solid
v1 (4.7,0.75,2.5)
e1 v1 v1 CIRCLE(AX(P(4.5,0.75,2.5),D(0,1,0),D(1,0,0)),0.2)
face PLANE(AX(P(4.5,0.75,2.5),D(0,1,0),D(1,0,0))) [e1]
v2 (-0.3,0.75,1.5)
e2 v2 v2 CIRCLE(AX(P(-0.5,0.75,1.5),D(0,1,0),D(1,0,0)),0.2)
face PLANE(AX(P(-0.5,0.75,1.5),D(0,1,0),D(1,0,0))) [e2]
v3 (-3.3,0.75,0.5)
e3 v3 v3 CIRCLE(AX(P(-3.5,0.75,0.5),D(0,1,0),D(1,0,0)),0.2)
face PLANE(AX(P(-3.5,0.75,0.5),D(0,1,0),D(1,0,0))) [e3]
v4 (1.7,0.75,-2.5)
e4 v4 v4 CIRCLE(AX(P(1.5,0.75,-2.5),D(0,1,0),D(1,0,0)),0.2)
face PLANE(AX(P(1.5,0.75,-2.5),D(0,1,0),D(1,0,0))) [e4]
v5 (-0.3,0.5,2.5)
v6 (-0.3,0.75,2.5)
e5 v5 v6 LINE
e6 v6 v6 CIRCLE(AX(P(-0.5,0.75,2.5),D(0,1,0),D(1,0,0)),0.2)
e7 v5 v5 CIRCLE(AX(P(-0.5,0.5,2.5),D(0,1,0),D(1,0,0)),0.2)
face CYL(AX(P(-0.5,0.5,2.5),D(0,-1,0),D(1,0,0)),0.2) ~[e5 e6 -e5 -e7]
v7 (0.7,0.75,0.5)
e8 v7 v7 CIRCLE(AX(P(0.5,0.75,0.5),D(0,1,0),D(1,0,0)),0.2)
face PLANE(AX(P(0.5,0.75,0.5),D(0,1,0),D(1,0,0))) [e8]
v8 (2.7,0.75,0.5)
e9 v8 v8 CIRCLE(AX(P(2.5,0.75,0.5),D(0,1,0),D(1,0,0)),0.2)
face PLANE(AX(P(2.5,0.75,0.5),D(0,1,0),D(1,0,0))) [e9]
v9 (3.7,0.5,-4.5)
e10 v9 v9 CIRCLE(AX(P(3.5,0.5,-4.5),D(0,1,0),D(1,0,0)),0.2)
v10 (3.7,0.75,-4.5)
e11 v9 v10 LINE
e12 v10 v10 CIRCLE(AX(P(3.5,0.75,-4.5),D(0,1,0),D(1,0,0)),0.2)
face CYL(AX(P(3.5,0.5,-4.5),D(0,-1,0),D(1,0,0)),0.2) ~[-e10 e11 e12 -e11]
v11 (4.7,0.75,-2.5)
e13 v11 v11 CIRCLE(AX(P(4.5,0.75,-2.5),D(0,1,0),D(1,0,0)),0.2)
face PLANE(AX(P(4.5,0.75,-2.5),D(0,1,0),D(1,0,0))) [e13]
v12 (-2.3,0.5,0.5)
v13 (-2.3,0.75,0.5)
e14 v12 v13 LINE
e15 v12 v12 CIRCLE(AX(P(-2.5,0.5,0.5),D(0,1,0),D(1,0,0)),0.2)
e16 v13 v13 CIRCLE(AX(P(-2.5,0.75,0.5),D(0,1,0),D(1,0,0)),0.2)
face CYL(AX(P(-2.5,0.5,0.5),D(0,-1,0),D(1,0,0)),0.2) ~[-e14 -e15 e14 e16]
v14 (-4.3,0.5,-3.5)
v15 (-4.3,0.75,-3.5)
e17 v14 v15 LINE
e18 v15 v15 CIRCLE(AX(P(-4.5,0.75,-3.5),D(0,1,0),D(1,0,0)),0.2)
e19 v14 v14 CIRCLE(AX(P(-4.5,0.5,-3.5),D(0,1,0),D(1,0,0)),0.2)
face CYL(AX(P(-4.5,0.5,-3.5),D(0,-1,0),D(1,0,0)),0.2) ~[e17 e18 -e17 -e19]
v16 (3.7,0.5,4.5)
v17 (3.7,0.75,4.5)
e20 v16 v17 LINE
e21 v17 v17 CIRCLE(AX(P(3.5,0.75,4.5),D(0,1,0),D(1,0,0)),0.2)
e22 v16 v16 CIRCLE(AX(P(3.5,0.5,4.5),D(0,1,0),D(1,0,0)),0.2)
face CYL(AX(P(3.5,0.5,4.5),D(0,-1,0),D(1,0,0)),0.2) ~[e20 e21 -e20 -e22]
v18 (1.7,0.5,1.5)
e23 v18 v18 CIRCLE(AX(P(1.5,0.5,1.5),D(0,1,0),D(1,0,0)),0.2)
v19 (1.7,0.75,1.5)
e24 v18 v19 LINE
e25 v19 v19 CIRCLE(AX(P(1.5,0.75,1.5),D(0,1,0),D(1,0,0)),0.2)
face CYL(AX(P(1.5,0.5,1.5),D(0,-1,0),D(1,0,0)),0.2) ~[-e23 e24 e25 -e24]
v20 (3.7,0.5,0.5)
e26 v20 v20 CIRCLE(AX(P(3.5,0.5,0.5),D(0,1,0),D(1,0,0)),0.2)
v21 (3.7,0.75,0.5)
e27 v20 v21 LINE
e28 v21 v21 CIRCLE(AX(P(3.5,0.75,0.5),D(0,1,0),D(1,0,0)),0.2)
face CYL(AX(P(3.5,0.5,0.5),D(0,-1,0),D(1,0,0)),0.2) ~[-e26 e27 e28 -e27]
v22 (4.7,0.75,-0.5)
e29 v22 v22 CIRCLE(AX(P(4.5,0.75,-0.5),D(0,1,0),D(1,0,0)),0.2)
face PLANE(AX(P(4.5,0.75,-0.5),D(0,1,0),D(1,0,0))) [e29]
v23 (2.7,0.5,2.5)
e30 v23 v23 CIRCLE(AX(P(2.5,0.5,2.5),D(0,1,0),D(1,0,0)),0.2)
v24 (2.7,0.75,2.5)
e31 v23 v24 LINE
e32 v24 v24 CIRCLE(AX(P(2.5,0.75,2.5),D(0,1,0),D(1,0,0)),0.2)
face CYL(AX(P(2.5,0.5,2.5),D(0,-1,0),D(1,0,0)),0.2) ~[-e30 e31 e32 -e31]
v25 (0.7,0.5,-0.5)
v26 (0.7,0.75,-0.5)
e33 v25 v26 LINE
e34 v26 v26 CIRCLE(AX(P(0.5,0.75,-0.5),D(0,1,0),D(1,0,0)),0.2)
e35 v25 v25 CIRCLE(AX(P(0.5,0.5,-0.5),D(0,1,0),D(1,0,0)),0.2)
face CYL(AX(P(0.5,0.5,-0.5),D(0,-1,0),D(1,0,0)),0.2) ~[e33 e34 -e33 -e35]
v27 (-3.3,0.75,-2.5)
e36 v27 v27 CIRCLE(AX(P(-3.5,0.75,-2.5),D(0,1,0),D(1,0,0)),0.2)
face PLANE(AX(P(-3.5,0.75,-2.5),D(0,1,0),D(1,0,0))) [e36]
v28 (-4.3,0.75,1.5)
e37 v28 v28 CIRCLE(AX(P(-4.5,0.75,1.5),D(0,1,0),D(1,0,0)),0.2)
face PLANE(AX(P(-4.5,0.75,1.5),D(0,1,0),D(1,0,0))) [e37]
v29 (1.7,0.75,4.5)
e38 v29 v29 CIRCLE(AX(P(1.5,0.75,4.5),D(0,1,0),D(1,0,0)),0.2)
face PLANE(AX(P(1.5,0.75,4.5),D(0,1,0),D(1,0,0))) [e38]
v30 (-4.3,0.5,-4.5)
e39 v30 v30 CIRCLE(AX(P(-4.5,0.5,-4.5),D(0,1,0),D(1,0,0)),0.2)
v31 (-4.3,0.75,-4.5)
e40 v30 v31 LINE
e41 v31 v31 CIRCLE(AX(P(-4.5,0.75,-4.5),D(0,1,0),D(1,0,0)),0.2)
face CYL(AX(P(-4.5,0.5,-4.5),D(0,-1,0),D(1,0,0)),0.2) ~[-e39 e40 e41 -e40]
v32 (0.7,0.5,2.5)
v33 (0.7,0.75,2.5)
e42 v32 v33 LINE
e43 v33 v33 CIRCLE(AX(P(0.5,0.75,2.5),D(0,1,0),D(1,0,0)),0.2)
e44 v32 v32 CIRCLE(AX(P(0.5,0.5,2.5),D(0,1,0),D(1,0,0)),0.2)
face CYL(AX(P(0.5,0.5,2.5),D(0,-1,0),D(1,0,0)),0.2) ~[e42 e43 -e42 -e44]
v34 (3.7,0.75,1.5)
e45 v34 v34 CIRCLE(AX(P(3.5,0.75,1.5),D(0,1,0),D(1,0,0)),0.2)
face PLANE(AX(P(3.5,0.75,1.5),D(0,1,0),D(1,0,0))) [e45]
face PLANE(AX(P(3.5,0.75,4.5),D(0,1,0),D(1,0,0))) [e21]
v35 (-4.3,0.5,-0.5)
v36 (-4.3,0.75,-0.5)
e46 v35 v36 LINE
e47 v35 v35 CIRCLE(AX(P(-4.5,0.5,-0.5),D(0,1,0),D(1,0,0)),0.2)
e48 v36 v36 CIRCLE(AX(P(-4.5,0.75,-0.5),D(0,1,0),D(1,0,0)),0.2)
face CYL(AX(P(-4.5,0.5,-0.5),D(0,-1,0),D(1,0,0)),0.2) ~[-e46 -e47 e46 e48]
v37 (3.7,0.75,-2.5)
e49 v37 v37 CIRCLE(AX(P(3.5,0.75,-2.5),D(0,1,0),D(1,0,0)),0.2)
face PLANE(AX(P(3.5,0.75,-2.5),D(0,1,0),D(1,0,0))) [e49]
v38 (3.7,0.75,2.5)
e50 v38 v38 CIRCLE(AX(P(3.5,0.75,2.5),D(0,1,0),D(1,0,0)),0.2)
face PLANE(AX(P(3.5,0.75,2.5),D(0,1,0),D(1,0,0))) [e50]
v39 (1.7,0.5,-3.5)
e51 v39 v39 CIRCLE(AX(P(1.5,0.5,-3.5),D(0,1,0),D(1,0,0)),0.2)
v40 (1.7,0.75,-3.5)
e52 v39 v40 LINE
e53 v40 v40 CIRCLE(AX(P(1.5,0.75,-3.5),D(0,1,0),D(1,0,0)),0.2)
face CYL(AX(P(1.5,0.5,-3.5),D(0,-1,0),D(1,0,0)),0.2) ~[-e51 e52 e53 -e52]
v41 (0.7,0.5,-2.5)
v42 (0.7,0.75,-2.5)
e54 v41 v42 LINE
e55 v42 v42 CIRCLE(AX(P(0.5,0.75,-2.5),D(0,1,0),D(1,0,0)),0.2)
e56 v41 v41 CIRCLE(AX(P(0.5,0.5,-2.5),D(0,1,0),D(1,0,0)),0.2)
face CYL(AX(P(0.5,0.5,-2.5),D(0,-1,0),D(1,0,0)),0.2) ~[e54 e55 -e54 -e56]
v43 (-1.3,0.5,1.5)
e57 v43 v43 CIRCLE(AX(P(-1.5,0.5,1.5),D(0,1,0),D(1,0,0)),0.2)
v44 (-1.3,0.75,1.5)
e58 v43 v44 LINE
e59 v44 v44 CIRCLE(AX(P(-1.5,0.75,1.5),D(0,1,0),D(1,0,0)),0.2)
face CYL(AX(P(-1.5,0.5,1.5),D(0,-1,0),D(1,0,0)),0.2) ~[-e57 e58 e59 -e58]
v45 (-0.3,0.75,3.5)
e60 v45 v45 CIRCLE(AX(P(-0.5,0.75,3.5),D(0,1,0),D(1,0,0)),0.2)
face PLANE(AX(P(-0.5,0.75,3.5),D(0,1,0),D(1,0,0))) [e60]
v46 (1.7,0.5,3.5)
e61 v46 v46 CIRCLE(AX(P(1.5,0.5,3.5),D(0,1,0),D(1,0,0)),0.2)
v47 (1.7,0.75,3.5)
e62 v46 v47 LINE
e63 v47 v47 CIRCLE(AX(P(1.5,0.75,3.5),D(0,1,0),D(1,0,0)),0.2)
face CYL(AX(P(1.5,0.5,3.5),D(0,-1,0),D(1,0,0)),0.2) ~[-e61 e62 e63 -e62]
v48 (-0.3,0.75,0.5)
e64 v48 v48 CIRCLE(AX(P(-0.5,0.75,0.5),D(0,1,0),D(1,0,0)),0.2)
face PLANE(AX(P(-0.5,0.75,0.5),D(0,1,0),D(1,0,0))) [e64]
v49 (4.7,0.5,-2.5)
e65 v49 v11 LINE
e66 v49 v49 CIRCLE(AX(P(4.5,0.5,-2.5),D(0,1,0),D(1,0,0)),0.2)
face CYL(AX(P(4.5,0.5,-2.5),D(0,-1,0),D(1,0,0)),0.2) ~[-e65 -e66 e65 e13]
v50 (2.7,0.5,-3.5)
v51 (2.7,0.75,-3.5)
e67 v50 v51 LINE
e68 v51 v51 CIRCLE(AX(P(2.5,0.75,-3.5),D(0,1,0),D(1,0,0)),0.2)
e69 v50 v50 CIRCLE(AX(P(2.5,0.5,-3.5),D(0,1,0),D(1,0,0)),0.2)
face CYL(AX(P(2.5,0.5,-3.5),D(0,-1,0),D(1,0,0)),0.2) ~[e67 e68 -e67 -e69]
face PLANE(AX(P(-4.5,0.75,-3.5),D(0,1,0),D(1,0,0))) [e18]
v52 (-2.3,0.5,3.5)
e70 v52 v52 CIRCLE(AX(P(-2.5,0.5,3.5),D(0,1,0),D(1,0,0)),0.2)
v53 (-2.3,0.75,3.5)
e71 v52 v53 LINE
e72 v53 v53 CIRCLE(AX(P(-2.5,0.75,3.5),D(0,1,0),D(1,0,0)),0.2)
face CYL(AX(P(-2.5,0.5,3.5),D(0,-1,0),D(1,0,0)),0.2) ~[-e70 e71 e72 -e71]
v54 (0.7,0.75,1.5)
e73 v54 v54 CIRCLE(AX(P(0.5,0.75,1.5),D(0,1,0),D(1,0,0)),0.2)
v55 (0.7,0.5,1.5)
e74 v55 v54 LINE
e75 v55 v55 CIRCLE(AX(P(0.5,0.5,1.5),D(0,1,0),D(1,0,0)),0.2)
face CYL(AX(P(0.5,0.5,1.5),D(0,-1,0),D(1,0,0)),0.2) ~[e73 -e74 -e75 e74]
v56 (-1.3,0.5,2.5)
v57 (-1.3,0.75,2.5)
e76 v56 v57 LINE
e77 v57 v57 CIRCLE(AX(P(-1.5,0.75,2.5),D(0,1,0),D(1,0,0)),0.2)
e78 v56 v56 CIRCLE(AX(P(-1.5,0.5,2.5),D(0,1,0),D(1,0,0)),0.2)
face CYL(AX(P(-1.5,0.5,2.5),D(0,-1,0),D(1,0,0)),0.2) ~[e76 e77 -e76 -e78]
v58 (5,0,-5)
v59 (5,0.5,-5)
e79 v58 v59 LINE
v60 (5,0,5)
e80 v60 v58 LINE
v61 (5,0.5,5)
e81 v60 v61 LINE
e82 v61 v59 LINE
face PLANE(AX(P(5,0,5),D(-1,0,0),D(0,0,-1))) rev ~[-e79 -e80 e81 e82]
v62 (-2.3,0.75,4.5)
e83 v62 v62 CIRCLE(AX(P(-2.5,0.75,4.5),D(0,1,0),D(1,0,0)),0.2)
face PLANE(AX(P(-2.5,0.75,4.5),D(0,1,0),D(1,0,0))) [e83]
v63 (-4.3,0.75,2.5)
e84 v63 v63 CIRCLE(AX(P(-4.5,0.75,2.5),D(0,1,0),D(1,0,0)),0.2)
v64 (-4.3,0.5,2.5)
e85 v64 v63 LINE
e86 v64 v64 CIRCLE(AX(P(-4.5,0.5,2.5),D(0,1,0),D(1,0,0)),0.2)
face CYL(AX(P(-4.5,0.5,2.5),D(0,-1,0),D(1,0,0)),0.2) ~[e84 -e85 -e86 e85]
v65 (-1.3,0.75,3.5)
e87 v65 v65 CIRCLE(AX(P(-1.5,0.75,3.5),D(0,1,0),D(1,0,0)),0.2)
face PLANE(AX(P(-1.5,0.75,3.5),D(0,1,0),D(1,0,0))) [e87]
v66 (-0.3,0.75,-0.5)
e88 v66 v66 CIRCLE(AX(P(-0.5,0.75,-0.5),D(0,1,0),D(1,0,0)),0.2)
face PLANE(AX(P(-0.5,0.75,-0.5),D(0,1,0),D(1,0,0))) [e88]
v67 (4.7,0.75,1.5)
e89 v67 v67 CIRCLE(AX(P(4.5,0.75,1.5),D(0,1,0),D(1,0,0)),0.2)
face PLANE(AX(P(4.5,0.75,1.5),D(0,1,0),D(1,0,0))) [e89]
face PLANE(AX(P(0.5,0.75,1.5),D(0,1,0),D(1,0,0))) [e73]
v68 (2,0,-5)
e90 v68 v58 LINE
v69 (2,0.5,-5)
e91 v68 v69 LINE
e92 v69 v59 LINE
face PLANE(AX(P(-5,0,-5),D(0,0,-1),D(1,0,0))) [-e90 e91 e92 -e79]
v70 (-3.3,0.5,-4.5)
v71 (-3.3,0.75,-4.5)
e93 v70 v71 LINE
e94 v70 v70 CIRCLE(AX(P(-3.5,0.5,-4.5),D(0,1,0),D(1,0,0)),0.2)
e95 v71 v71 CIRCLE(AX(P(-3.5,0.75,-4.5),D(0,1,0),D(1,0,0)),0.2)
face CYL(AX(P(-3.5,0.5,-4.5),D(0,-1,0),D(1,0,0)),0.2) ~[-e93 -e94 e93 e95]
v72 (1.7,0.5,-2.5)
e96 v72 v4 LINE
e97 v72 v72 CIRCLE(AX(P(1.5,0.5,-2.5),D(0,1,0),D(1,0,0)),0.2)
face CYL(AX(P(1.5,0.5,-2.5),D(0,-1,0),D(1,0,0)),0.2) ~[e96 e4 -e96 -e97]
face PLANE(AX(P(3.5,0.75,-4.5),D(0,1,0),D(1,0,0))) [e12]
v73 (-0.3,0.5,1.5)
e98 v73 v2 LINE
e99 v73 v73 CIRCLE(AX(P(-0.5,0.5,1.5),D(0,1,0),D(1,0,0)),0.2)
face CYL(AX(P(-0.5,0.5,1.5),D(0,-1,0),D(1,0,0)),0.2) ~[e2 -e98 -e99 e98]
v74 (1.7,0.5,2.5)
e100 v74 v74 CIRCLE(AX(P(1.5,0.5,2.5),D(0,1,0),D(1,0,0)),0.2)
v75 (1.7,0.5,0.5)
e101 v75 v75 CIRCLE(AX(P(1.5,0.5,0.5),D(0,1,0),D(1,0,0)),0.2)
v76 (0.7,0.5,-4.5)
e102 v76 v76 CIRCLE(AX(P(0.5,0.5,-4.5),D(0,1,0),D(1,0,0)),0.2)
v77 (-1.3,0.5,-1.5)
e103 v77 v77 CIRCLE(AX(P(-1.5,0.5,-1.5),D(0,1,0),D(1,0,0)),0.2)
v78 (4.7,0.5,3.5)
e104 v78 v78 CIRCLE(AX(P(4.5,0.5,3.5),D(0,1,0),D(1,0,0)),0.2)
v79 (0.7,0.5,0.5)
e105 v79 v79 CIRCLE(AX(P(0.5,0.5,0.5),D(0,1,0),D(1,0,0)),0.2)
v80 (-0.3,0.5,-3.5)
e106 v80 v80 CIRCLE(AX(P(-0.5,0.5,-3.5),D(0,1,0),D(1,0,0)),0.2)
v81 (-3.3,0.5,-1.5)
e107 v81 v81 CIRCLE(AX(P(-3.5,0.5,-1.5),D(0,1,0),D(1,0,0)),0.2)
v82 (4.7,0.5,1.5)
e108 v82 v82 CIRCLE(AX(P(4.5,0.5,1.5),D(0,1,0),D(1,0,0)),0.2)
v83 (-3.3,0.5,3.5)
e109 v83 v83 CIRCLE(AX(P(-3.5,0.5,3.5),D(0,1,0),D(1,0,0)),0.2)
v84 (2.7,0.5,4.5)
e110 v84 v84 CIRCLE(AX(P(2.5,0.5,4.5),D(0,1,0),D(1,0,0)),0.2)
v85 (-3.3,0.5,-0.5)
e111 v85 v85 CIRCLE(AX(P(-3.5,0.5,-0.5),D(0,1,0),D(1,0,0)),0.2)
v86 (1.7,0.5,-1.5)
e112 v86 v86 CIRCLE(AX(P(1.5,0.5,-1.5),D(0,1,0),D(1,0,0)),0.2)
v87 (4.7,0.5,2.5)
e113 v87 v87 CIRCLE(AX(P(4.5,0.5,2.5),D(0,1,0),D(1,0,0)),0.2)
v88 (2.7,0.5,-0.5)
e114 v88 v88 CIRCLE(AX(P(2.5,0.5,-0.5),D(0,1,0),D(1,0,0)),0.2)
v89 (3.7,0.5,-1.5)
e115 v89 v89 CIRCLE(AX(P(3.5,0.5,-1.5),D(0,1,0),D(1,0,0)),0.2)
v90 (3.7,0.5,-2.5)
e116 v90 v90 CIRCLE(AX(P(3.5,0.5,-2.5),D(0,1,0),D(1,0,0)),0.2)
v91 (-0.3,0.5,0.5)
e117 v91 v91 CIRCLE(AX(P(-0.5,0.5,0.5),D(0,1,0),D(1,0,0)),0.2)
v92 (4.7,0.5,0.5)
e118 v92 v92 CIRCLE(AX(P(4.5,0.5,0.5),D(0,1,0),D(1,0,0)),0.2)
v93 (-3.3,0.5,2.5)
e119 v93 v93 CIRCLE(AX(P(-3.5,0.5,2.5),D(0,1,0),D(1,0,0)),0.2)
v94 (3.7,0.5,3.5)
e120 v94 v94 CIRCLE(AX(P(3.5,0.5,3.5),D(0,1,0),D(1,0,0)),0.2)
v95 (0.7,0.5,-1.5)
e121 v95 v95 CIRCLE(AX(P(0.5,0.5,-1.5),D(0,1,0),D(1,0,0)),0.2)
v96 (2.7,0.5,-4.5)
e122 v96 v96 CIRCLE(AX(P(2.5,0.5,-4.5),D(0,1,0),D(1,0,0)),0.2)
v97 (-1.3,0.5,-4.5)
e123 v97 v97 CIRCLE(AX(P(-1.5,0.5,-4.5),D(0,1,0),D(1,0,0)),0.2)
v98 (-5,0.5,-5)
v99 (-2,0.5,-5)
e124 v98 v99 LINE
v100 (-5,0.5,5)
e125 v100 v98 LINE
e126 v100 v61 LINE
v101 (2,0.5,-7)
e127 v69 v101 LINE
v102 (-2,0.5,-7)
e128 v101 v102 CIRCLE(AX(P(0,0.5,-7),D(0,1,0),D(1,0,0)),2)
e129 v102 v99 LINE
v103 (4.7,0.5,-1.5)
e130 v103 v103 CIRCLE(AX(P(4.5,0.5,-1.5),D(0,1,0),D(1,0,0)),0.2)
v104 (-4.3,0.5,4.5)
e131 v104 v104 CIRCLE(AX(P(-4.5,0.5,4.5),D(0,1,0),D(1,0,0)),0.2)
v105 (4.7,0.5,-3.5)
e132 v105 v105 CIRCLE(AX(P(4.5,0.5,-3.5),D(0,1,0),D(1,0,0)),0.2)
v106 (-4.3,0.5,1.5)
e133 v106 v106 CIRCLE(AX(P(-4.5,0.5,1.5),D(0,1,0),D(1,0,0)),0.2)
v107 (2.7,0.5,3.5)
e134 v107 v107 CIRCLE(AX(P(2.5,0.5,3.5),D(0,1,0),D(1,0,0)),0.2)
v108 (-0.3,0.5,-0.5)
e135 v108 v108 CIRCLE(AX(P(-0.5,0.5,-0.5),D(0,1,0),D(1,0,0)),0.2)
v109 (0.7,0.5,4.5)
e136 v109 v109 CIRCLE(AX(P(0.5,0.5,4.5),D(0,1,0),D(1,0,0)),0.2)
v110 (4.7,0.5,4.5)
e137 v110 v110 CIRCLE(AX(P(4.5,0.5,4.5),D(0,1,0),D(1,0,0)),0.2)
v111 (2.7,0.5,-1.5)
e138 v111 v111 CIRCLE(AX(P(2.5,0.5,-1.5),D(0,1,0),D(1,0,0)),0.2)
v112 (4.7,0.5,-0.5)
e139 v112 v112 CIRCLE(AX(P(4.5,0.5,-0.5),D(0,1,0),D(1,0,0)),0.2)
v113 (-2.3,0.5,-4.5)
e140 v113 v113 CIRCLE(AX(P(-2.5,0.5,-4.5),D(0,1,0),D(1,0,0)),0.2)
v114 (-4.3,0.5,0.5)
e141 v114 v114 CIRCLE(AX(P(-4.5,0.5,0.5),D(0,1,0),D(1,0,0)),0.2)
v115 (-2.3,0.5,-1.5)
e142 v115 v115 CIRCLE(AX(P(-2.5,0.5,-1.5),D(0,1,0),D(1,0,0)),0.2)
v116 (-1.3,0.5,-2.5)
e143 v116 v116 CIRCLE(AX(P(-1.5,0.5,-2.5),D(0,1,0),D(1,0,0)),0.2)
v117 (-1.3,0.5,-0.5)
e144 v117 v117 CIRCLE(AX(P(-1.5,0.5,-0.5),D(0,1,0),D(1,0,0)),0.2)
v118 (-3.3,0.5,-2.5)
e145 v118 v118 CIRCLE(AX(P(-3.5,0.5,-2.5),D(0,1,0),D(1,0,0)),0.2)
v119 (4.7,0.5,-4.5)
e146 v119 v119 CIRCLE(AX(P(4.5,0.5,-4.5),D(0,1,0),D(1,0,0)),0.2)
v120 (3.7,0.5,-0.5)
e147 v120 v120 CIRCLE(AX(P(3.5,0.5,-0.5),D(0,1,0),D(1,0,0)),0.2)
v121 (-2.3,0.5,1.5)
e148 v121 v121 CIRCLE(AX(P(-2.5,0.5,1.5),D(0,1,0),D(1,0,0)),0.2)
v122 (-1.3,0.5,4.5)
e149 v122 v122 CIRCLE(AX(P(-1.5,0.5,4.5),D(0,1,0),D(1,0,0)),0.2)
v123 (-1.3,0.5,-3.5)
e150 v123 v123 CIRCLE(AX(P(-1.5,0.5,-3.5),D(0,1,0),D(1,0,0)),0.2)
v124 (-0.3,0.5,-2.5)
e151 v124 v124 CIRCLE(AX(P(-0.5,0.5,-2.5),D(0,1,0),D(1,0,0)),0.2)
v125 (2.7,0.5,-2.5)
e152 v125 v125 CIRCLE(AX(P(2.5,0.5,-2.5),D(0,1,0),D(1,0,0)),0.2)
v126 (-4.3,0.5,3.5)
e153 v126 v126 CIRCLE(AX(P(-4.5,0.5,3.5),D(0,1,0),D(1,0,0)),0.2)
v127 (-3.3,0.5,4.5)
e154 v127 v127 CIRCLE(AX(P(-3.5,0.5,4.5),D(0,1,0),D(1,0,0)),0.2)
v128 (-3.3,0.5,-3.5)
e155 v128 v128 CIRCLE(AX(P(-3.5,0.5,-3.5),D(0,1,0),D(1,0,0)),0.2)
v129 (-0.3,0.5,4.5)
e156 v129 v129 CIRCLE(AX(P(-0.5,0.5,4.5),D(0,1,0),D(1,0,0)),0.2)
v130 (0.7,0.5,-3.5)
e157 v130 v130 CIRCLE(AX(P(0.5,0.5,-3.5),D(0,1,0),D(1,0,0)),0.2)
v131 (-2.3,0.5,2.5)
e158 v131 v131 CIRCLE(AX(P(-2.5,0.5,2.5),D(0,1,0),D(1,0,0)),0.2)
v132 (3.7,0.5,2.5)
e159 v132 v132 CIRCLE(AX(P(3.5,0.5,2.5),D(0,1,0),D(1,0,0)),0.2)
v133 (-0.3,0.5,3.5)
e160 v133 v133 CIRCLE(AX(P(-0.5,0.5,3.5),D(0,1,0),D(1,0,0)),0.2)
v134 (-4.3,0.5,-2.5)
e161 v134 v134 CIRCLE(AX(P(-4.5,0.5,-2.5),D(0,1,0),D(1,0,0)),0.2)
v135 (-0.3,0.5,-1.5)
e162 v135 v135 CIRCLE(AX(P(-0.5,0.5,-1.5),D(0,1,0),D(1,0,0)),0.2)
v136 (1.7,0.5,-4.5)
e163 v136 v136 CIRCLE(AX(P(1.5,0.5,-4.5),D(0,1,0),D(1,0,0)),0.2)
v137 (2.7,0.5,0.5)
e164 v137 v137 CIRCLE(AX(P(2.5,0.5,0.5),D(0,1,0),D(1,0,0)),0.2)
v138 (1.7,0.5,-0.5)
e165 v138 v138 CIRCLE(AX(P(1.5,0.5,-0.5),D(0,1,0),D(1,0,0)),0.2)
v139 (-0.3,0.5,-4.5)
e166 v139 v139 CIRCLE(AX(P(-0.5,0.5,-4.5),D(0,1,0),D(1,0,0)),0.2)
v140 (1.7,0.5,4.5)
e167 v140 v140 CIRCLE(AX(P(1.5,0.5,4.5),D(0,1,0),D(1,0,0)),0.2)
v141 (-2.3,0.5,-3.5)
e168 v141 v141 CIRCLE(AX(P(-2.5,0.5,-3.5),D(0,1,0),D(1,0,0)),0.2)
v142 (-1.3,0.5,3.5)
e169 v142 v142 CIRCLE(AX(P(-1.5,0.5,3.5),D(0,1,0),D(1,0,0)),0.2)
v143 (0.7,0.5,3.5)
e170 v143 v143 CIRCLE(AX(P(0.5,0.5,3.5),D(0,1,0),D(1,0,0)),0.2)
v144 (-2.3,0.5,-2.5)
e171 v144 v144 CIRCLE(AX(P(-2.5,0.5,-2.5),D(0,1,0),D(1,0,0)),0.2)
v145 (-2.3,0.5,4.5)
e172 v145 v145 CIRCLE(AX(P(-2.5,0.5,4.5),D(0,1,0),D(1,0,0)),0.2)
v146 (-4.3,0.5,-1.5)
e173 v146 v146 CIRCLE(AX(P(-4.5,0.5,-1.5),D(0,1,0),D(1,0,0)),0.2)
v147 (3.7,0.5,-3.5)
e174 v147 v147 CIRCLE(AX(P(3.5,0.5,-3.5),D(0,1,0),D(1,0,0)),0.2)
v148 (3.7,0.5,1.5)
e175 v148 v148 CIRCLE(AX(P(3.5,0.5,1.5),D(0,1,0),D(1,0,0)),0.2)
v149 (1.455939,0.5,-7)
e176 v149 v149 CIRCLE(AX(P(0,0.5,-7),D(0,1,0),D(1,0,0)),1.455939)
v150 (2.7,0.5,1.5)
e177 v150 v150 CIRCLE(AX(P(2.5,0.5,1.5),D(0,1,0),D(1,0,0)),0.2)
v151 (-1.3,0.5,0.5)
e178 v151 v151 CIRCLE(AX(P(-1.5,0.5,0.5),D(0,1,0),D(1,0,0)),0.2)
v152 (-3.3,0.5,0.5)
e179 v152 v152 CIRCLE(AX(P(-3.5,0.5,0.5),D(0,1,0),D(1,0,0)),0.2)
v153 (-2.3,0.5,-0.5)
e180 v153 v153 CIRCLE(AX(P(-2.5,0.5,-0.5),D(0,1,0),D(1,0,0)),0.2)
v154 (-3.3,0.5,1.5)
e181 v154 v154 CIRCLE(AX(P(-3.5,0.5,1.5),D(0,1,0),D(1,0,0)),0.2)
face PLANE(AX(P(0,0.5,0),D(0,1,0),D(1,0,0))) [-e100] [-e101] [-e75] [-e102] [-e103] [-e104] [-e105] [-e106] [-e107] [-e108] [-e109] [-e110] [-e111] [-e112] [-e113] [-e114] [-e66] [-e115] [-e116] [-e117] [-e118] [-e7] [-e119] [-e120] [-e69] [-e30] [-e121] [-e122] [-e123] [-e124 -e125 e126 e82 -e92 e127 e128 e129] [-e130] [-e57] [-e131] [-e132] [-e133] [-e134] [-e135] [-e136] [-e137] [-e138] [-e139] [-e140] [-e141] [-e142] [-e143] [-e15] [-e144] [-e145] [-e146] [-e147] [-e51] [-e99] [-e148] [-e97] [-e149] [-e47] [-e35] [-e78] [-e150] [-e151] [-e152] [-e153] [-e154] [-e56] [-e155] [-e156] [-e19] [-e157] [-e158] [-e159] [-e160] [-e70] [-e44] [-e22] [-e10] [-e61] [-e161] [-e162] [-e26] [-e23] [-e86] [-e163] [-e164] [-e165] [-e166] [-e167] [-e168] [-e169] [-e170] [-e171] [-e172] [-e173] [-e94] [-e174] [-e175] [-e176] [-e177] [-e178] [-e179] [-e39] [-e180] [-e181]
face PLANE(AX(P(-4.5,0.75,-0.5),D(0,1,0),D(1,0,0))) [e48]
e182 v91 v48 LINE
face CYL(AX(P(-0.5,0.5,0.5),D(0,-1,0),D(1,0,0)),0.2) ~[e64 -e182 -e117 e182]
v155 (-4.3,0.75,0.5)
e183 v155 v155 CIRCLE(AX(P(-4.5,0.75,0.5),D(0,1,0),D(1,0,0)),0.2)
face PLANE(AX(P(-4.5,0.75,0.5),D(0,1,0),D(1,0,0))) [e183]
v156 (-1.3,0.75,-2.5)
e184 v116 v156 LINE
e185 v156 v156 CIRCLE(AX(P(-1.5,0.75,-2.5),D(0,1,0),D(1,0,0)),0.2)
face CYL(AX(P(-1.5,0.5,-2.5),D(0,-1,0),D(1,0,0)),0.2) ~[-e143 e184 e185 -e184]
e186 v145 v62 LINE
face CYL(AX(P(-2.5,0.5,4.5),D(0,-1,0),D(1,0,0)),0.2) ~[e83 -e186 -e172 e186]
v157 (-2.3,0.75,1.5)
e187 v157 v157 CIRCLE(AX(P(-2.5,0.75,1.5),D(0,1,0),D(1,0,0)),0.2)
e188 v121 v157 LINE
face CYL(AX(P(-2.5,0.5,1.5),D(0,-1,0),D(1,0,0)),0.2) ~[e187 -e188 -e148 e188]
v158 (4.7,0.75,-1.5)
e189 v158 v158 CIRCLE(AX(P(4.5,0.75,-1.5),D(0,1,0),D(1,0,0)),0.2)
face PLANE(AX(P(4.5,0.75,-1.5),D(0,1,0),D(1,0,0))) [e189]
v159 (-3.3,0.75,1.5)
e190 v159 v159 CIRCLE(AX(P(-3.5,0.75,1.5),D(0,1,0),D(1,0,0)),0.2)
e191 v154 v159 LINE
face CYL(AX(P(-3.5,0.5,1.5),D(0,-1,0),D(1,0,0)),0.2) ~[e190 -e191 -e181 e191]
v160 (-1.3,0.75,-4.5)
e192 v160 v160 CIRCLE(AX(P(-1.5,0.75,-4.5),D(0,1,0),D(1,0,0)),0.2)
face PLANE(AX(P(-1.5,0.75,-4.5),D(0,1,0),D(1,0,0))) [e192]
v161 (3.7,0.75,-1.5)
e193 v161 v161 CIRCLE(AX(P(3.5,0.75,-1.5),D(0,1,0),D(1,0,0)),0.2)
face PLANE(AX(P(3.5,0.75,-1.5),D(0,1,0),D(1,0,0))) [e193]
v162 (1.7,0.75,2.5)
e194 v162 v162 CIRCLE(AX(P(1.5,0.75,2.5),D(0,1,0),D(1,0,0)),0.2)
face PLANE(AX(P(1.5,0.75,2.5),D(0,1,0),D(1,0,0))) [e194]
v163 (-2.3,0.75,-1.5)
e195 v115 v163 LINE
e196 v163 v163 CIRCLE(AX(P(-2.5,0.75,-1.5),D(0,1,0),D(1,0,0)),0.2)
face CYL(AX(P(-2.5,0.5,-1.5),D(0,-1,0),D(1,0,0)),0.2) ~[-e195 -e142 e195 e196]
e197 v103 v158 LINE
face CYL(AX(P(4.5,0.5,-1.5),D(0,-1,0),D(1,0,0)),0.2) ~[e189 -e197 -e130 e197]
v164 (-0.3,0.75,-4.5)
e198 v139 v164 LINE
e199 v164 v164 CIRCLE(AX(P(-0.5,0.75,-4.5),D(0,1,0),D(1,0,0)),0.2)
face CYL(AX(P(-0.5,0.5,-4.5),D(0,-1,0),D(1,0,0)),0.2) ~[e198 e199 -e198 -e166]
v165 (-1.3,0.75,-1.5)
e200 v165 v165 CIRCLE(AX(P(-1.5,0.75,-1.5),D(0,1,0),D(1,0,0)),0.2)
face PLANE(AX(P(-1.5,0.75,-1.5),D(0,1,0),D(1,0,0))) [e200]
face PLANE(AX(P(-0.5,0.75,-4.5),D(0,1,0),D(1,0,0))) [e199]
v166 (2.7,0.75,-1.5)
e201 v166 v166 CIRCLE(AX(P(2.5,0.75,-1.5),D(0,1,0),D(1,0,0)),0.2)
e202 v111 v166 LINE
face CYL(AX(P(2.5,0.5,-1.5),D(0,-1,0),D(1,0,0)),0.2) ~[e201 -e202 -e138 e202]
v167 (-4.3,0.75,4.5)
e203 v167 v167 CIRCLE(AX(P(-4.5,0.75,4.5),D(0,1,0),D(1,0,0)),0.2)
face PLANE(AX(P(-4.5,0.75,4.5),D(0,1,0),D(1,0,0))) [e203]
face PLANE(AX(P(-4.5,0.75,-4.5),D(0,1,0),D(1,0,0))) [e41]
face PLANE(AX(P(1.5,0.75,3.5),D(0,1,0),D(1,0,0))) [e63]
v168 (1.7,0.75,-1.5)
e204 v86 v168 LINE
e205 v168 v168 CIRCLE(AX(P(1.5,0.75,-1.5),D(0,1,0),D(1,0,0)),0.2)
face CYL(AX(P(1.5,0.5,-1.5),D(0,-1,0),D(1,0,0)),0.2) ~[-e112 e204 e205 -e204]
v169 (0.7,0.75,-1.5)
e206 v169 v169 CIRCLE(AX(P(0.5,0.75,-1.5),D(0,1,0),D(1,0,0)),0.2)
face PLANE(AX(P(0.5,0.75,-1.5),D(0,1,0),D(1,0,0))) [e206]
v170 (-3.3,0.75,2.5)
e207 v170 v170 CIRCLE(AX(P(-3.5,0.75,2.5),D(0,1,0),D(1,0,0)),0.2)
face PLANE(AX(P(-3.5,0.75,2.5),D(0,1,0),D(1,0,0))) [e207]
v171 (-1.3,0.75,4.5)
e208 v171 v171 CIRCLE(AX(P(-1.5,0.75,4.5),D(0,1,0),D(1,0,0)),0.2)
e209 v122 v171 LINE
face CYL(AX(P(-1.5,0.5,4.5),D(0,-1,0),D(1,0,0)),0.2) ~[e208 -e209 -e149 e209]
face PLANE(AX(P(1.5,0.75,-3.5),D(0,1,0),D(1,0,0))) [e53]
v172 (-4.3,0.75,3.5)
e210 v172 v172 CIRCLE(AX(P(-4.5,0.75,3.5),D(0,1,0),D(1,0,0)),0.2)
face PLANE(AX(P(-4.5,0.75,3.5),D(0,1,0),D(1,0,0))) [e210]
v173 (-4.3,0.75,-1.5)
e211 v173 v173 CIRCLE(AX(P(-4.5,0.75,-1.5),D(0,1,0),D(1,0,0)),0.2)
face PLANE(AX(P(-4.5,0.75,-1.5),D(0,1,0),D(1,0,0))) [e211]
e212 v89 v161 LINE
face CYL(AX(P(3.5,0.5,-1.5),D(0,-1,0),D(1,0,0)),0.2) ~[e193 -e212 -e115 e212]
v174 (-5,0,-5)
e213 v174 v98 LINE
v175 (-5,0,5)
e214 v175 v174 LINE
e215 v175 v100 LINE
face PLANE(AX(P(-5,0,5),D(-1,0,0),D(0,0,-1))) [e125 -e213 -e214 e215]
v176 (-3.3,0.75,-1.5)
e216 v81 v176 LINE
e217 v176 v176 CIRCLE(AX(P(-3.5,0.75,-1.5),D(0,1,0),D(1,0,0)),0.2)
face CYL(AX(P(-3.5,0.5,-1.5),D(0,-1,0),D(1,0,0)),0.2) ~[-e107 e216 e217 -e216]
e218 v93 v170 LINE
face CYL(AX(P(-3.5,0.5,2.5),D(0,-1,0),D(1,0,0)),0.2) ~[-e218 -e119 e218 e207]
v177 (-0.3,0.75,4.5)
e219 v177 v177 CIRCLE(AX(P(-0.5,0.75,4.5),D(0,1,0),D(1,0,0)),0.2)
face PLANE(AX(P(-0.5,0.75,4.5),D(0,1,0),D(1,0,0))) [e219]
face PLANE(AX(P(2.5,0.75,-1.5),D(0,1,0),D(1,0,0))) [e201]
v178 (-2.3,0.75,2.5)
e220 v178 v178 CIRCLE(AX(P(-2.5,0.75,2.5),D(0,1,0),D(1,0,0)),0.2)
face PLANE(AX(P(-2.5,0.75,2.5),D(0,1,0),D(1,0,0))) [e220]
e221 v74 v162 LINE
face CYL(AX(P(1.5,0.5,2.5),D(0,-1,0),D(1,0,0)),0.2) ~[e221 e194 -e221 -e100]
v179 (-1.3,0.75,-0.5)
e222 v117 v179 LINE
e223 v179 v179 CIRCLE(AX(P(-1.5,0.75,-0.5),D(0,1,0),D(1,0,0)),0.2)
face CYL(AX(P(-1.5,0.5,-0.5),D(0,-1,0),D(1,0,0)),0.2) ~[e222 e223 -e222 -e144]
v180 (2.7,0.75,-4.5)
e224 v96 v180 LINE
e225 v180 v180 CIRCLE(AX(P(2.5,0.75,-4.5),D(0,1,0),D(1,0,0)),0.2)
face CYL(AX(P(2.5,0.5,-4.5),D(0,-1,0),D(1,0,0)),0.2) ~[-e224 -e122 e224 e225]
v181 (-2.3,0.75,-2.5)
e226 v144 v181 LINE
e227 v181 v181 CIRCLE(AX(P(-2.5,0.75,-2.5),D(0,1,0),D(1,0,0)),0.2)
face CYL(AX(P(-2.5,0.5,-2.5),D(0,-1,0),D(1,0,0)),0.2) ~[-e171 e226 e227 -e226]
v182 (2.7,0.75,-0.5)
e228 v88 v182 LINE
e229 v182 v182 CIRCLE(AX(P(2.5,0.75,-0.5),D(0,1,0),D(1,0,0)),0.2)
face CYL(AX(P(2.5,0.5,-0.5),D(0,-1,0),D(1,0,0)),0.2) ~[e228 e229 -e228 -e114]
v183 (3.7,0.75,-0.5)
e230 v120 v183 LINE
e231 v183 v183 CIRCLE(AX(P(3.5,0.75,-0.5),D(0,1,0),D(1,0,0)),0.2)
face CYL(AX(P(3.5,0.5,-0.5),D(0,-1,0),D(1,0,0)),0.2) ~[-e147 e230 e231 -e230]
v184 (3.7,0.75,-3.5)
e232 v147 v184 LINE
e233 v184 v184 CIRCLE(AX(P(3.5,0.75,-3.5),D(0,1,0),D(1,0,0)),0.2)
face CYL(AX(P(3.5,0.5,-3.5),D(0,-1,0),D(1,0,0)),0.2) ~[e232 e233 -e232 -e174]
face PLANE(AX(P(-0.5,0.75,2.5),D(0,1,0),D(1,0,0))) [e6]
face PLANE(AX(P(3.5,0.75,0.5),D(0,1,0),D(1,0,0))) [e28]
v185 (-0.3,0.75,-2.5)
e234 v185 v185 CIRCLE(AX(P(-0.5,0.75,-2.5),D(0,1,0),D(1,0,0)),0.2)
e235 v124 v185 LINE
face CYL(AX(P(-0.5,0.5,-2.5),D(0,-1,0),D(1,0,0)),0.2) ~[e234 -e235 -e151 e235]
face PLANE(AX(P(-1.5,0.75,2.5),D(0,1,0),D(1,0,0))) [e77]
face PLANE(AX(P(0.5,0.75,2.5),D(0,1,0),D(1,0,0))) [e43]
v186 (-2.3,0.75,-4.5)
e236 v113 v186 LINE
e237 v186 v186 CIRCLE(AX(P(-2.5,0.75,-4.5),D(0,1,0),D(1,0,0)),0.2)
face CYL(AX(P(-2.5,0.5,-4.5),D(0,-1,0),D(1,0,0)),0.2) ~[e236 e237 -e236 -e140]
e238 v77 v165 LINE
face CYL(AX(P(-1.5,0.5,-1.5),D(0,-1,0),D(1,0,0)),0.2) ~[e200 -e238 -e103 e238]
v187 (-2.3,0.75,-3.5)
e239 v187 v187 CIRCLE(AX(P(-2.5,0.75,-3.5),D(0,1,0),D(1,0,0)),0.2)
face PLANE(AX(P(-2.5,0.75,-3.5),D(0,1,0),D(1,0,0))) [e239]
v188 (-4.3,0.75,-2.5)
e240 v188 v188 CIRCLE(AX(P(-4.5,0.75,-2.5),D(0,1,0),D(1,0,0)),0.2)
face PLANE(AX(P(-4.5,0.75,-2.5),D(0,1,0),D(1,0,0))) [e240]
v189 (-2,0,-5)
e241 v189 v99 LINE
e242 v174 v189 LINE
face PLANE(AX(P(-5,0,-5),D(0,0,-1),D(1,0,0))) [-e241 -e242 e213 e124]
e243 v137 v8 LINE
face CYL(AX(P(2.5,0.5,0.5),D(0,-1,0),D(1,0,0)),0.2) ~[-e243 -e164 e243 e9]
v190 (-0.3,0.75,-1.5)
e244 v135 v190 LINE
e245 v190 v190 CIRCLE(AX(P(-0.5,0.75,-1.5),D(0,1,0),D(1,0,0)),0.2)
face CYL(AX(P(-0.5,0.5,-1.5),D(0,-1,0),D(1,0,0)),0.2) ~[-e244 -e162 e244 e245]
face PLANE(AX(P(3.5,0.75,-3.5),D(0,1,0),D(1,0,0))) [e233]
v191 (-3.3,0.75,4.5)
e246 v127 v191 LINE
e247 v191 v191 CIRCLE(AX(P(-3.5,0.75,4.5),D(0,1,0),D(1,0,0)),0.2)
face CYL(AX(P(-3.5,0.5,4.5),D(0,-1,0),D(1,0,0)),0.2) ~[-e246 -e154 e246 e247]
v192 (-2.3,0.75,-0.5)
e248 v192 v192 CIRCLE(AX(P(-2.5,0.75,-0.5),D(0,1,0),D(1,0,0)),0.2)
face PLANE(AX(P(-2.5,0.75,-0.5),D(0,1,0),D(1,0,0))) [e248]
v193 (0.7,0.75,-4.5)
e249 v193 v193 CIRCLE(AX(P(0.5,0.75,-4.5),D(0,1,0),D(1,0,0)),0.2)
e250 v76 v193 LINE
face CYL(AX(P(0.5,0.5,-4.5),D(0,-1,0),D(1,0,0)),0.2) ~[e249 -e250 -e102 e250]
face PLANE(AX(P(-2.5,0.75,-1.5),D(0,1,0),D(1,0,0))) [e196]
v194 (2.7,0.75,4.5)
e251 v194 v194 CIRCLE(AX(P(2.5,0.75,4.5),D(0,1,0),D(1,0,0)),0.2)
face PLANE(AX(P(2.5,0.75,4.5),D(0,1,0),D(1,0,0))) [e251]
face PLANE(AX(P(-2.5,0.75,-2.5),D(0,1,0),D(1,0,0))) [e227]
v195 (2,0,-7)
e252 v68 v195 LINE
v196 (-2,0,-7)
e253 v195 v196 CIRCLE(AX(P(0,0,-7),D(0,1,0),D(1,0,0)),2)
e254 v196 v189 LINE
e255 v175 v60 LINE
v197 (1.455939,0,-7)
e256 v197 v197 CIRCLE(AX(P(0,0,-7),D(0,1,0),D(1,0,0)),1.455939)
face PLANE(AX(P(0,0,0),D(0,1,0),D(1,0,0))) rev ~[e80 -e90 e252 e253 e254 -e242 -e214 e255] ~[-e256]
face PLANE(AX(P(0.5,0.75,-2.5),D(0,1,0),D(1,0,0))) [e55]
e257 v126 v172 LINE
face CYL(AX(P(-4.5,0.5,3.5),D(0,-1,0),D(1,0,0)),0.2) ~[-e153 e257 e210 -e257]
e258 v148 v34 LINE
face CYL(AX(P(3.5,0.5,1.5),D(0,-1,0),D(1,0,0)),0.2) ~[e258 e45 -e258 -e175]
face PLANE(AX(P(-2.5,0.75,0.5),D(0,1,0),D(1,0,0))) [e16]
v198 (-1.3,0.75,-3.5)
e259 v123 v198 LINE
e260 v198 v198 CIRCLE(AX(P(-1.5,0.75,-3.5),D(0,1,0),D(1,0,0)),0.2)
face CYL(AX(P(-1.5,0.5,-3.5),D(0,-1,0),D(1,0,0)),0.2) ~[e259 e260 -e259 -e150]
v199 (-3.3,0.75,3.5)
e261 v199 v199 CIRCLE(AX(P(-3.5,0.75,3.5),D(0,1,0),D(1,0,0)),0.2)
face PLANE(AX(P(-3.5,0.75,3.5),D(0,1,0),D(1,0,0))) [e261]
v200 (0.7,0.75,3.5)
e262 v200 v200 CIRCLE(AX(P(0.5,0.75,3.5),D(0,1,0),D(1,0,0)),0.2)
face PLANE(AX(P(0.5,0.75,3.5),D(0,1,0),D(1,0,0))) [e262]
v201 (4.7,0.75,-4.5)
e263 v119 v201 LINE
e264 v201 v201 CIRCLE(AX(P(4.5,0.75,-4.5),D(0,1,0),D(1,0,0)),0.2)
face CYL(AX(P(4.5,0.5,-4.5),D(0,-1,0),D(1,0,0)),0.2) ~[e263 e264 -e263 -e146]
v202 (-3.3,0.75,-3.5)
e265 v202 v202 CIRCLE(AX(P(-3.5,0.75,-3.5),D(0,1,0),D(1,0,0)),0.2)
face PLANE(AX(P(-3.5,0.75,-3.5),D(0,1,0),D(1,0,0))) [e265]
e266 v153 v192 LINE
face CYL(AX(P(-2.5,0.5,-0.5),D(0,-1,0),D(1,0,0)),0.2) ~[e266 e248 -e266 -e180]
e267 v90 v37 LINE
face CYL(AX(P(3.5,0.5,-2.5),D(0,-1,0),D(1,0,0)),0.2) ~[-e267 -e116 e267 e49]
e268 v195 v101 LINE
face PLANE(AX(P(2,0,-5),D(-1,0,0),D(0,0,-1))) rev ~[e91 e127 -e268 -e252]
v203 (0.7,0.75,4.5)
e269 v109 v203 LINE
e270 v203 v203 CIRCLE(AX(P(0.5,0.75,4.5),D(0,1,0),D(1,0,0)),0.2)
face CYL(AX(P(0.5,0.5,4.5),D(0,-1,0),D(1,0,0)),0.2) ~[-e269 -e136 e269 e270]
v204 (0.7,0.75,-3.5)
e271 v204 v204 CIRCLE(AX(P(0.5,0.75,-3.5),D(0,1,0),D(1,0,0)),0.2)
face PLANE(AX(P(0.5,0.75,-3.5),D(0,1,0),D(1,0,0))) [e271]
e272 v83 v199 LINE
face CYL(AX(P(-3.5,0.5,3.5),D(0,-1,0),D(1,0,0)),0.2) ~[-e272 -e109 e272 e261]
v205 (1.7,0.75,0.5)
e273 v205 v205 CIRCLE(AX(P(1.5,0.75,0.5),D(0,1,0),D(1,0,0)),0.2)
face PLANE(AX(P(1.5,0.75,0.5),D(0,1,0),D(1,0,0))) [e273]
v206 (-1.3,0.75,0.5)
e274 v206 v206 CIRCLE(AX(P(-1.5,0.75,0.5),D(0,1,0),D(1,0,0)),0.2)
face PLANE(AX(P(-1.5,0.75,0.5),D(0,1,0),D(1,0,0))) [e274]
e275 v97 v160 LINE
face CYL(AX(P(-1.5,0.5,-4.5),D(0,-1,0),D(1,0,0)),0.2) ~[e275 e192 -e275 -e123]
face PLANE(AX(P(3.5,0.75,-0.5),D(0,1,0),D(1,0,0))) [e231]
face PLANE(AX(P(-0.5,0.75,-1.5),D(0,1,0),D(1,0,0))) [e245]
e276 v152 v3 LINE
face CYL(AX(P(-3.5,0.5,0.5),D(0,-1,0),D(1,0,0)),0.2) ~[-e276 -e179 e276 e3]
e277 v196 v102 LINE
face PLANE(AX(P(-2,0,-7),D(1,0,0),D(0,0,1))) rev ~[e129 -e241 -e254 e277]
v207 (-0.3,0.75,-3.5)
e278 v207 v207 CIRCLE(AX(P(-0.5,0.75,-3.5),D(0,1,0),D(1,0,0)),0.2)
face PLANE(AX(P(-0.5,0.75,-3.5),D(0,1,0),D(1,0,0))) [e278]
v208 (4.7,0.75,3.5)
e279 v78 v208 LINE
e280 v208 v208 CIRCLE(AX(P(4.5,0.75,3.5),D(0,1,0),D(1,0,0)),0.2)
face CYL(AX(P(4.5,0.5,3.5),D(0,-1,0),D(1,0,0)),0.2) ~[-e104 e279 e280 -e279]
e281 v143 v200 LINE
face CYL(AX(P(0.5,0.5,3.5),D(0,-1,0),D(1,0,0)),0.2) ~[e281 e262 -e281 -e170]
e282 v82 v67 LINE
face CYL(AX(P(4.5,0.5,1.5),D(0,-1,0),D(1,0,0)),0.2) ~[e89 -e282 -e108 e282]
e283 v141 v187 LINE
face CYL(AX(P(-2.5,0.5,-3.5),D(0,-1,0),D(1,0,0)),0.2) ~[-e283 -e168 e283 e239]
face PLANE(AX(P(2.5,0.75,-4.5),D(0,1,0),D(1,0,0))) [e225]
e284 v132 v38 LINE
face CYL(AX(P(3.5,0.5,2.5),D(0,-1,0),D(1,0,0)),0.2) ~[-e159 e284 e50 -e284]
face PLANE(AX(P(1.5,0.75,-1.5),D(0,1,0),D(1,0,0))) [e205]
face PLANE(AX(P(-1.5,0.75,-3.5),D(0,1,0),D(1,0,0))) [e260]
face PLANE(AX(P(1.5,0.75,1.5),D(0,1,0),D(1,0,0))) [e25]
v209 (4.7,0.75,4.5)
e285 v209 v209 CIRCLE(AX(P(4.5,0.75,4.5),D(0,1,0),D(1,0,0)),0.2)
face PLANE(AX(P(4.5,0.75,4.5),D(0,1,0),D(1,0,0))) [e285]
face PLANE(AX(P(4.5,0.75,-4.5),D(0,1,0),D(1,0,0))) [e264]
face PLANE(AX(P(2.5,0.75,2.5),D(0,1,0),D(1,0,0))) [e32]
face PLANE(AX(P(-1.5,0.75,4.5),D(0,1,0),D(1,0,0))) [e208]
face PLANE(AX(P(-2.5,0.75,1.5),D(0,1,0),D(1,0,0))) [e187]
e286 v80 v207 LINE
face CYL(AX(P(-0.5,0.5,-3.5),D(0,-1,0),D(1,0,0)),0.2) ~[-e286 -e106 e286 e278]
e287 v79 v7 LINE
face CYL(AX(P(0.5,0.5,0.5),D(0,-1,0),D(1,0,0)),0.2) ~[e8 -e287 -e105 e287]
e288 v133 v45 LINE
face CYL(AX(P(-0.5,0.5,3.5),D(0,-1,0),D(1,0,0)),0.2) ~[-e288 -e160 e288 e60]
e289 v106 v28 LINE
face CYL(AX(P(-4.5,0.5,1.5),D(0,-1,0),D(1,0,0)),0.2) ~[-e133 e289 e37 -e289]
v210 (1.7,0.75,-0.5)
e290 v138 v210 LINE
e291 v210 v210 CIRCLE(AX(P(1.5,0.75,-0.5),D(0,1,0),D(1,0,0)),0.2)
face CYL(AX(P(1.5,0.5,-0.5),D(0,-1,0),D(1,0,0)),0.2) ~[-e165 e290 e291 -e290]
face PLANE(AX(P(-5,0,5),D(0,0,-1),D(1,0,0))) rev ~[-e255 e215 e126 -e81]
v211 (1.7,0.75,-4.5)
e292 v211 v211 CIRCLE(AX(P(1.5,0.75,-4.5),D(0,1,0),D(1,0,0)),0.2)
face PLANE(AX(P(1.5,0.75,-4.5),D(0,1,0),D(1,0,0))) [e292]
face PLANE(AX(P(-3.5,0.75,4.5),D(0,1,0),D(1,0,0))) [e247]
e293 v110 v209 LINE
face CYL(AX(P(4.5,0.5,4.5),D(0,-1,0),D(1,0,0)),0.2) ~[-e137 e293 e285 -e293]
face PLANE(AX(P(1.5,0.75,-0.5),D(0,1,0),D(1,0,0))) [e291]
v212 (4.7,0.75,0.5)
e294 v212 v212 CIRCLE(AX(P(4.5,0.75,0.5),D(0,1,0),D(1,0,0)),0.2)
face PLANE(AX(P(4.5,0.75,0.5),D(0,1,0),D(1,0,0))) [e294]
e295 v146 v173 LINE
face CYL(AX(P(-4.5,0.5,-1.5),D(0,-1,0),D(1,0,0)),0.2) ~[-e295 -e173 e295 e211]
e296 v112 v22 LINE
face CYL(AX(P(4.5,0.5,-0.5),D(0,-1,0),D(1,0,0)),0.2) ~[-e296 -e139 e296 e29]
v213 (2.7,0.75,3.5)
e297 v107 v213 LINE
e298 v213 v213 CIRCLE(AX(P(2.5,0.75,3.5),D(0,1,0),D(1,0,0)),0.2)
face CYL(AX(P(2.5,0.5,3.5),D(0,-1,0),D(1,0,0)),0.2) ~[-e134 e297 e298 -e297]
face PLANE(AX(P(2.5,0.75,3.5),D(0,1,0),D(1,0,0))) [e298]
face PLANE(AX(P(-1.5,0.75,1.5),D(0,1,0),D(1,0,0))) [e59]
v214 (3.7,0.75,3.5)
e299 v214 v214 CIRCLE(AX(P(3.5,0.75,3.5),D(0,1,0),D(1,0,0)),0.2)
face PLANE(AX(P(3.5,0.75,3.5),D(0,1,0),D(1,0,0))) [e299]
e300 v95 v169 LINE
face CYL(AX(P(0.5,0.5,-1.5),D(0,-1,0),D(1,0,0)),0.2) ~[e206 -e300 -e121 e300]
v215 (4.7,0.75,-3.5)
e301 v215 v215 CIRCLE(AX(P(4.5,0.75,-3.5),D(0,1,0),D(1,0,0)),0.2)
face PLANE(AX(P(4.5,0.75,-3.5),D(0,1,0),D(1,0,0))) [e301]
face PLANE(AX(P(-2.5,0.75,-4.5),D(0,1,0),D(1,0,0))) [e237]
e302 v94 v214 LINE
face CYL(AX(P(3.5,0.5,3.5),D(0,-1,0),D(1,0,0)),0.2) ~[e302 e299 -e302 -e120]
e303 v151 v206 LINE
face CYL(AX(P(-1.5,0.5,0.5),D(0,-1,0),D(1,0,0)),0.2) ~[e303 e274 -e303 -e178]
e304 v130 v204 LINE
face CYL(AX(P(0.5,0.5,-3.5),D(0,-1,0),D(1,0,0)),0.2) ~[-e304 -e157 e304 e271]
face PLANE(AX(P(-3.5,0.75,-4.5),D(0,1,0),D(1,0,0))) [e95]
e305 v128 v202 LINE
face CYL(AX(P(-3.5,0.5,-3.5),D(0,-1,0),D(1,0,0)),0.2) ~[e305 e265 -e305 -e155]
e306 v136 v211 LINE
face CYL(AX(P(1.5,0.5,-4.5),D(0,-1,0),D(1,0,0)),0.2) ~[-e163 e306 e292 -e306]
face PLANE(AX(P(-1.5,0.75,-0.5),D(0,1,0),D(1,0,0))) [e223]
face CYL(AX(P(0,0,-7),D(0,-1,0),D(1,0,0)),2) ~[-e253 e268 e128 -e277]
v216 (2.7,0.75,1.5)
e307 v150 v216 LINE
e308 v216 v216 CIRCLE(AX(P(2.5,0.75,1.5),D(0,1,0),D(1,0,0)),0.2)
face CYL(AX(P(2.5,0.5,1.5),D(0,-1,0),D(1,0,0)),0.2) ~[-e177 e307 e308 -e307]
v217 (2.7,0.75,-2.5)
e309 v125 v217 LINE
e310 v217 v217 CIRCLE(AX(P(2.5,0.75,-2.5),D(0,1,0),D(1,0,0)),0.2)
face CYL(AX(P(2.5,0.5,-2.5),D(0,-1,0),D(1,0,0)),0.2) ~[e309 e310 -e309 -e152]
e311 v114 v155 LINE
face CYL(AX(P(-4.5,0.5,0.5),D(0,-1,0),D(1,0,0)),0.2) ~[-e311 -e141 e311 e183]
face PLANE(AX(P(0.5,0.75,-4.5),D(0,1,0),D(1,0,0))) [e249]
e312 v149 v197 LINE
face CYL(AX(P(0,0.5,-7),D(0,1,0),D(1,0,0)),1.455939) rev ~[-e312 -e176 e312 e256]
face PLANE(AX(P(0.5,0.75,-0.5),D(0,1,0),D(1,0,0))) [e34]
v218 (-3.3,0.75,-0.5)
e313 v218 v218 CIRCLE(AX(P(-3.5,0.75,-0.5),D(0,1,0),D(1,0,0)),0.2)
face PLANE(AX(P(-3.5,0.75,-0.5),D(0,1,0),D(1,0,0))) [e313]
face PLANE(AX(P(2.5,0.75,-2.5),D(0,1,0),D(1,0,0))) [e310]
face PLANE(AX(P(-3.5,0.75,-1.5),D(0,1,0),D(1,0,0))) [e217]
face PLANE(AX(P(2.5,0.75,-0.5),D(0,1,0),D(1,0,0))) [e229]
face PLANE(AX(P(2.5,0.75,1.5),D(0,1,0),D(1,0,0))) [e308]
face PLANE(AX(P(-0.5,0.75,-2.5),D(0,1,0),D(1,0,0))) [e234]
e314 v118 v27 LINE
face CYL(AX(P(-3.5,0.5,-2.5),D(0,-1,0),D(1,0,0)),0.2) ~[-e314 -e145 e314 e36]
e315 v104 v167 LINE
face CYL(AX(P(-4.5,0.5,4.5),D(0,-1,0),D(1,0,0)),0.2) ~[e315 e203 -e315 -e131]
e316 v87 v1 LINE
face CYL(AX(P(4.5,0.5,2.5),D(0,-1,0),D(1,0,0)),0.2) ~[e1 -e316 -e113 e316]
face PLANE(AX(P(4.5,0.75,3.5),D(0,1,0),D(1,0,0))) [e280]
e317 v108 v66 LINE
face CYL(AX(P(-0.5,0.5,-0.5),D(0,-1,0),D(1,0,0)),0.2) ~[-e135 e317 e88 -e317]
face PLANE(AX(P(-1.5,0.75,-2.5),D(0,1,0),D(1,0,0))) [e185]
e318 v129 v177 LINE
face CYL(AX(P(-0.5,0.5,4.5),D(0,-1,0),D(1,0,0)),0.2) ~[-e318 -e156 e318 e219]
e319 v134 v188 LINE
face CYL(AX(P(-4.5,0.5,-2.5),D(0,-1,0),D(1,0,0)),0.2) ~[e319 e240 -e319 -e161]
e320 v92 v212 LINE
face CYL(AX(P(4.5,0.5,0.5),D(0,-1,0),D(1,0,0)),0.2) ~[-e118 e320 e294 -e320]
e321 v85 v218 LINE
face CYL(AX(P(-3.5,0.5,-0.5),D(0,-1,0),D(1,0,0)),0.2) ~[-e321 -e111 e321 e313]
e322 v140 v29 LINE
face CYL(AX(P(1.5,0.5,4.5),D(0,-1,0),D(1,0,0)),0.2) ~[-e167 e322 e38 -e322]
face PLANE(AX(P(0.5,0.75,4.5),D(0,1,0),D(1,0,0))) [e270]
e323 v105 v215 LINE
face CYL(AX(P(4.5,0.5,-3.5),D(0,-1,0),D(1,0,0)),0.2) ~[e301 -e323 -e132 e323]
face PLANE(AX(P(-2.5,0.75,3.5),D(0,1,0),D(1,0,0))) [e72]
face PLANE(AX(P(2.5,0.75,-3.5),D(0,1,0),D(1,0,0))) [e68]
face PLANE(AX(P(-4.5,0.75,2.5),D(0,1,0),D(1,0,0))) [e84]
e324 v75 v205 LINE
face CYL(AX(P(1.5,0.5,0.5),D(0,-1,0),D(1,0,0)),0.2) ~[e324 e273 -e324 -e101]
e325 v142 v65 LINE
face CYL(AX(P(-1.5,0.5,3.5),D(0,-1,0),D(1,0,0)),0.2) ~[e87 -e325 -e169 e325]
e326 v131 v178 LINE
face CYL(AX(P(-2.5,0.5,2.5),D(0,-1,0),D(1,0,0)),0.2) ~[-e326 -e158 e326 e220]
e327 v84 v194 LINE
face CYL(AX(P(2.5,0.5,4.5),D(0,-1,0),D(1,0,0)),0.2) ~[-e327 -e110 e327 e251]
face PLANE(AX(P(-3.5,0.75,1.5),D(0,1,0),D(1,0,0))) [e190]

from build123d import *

# Parameters (mm, degrees)
SKETCH1_W               = 10
SKETCH1_H               = 10
PLATE_DEPTH             = 0.5
SKETCH2_R               = 0.2
ROD_DEPTH               = 0.25
LPATTERN1_COUNT         = 10
LPATTERN1_PITCH         = 1
LPATTERN1_COUNT_DIR2    = 10
LPATTERN1_PITCH_DIR2    = 1
BOSS_EXTRUDE3_DEPTH     = 0.5
SKETCH5_R               = 1.455938962
CUT_EXTRUDE1_DEPTH      = 0.5
CUT_EXTRUDE1_DEPTH_BACK = 1.5


with BuildPart() as part:
    # Sketch1 → Plate (new body)
    with BuildSketch(Plane(origin=(0, 0, 0), x_dir=(1, 0, 0), z_dir=(0, 1, 0))):
        Rectangle(SKETCH1_W, SKETCH1_H)
    extrude(amount=PLATE_DEPTH)

    # Sketch2 → Rod (add)
    with BuildSketch(Plane(origin=(0, 0.5, 0), x_dir=(1, 0, 0), z_dir=(0, 1, 0))):
        with Locations((-4.5, -4.5)):
            Circle(SKETCH2_R)
    rod = extrude(amount=ROD_DEPTH)

    # LPattern1: Rod 10 × 10
    with Locations(*[(i * LPATTERN1_PITCH, 0, -j * LPATTERN1_PITCH_DIR2) for i in range(LPATTERN1_COUNT) for j in range(LPATTERN1_COUNT_DIR2) if (i, j) != (0, 0)]):
        add(rod)

    # Sketch4 → Boss-Extrude3 (add)
    with BuildSketch(Plane(origin=(0, 0, 0), x_dir=(1, 0, 0), z_dir=(0, 1, 0))):
        with BuildLine():
            Line((-2, 7), (-2, 5))
            Line((-2, 5), (2, 5))
            Line((2, 5), (2, 7))
            ThreePointArc((2, 7), (0, 9), (-2, 7))
        make_face()
    extrude(amount=BOSS_EXTRUDE3_DEPTH)

    # Sketch5 → Cut-Extrude1 (cut, two sides)
    with BuildSketch(Plane(origin=(0, 0.5, 0), x_dir=(1, 0, 0), z_dir=(0, 1, 0))) as cut_extrude1_sk:
        with Locations((0, 7)):
            Circle(SKETCH5_R)
    extrude(amount=CUT_EXTRUDE1_DEPTH, mode=Mode.SUBTRACT)
    extrude(cut_extrude1_sk.sketch, amount=-CUT_EXTRUDE1_DEPTH_BACK, mode=Mode.SUBTRACT)


solid = part.part
